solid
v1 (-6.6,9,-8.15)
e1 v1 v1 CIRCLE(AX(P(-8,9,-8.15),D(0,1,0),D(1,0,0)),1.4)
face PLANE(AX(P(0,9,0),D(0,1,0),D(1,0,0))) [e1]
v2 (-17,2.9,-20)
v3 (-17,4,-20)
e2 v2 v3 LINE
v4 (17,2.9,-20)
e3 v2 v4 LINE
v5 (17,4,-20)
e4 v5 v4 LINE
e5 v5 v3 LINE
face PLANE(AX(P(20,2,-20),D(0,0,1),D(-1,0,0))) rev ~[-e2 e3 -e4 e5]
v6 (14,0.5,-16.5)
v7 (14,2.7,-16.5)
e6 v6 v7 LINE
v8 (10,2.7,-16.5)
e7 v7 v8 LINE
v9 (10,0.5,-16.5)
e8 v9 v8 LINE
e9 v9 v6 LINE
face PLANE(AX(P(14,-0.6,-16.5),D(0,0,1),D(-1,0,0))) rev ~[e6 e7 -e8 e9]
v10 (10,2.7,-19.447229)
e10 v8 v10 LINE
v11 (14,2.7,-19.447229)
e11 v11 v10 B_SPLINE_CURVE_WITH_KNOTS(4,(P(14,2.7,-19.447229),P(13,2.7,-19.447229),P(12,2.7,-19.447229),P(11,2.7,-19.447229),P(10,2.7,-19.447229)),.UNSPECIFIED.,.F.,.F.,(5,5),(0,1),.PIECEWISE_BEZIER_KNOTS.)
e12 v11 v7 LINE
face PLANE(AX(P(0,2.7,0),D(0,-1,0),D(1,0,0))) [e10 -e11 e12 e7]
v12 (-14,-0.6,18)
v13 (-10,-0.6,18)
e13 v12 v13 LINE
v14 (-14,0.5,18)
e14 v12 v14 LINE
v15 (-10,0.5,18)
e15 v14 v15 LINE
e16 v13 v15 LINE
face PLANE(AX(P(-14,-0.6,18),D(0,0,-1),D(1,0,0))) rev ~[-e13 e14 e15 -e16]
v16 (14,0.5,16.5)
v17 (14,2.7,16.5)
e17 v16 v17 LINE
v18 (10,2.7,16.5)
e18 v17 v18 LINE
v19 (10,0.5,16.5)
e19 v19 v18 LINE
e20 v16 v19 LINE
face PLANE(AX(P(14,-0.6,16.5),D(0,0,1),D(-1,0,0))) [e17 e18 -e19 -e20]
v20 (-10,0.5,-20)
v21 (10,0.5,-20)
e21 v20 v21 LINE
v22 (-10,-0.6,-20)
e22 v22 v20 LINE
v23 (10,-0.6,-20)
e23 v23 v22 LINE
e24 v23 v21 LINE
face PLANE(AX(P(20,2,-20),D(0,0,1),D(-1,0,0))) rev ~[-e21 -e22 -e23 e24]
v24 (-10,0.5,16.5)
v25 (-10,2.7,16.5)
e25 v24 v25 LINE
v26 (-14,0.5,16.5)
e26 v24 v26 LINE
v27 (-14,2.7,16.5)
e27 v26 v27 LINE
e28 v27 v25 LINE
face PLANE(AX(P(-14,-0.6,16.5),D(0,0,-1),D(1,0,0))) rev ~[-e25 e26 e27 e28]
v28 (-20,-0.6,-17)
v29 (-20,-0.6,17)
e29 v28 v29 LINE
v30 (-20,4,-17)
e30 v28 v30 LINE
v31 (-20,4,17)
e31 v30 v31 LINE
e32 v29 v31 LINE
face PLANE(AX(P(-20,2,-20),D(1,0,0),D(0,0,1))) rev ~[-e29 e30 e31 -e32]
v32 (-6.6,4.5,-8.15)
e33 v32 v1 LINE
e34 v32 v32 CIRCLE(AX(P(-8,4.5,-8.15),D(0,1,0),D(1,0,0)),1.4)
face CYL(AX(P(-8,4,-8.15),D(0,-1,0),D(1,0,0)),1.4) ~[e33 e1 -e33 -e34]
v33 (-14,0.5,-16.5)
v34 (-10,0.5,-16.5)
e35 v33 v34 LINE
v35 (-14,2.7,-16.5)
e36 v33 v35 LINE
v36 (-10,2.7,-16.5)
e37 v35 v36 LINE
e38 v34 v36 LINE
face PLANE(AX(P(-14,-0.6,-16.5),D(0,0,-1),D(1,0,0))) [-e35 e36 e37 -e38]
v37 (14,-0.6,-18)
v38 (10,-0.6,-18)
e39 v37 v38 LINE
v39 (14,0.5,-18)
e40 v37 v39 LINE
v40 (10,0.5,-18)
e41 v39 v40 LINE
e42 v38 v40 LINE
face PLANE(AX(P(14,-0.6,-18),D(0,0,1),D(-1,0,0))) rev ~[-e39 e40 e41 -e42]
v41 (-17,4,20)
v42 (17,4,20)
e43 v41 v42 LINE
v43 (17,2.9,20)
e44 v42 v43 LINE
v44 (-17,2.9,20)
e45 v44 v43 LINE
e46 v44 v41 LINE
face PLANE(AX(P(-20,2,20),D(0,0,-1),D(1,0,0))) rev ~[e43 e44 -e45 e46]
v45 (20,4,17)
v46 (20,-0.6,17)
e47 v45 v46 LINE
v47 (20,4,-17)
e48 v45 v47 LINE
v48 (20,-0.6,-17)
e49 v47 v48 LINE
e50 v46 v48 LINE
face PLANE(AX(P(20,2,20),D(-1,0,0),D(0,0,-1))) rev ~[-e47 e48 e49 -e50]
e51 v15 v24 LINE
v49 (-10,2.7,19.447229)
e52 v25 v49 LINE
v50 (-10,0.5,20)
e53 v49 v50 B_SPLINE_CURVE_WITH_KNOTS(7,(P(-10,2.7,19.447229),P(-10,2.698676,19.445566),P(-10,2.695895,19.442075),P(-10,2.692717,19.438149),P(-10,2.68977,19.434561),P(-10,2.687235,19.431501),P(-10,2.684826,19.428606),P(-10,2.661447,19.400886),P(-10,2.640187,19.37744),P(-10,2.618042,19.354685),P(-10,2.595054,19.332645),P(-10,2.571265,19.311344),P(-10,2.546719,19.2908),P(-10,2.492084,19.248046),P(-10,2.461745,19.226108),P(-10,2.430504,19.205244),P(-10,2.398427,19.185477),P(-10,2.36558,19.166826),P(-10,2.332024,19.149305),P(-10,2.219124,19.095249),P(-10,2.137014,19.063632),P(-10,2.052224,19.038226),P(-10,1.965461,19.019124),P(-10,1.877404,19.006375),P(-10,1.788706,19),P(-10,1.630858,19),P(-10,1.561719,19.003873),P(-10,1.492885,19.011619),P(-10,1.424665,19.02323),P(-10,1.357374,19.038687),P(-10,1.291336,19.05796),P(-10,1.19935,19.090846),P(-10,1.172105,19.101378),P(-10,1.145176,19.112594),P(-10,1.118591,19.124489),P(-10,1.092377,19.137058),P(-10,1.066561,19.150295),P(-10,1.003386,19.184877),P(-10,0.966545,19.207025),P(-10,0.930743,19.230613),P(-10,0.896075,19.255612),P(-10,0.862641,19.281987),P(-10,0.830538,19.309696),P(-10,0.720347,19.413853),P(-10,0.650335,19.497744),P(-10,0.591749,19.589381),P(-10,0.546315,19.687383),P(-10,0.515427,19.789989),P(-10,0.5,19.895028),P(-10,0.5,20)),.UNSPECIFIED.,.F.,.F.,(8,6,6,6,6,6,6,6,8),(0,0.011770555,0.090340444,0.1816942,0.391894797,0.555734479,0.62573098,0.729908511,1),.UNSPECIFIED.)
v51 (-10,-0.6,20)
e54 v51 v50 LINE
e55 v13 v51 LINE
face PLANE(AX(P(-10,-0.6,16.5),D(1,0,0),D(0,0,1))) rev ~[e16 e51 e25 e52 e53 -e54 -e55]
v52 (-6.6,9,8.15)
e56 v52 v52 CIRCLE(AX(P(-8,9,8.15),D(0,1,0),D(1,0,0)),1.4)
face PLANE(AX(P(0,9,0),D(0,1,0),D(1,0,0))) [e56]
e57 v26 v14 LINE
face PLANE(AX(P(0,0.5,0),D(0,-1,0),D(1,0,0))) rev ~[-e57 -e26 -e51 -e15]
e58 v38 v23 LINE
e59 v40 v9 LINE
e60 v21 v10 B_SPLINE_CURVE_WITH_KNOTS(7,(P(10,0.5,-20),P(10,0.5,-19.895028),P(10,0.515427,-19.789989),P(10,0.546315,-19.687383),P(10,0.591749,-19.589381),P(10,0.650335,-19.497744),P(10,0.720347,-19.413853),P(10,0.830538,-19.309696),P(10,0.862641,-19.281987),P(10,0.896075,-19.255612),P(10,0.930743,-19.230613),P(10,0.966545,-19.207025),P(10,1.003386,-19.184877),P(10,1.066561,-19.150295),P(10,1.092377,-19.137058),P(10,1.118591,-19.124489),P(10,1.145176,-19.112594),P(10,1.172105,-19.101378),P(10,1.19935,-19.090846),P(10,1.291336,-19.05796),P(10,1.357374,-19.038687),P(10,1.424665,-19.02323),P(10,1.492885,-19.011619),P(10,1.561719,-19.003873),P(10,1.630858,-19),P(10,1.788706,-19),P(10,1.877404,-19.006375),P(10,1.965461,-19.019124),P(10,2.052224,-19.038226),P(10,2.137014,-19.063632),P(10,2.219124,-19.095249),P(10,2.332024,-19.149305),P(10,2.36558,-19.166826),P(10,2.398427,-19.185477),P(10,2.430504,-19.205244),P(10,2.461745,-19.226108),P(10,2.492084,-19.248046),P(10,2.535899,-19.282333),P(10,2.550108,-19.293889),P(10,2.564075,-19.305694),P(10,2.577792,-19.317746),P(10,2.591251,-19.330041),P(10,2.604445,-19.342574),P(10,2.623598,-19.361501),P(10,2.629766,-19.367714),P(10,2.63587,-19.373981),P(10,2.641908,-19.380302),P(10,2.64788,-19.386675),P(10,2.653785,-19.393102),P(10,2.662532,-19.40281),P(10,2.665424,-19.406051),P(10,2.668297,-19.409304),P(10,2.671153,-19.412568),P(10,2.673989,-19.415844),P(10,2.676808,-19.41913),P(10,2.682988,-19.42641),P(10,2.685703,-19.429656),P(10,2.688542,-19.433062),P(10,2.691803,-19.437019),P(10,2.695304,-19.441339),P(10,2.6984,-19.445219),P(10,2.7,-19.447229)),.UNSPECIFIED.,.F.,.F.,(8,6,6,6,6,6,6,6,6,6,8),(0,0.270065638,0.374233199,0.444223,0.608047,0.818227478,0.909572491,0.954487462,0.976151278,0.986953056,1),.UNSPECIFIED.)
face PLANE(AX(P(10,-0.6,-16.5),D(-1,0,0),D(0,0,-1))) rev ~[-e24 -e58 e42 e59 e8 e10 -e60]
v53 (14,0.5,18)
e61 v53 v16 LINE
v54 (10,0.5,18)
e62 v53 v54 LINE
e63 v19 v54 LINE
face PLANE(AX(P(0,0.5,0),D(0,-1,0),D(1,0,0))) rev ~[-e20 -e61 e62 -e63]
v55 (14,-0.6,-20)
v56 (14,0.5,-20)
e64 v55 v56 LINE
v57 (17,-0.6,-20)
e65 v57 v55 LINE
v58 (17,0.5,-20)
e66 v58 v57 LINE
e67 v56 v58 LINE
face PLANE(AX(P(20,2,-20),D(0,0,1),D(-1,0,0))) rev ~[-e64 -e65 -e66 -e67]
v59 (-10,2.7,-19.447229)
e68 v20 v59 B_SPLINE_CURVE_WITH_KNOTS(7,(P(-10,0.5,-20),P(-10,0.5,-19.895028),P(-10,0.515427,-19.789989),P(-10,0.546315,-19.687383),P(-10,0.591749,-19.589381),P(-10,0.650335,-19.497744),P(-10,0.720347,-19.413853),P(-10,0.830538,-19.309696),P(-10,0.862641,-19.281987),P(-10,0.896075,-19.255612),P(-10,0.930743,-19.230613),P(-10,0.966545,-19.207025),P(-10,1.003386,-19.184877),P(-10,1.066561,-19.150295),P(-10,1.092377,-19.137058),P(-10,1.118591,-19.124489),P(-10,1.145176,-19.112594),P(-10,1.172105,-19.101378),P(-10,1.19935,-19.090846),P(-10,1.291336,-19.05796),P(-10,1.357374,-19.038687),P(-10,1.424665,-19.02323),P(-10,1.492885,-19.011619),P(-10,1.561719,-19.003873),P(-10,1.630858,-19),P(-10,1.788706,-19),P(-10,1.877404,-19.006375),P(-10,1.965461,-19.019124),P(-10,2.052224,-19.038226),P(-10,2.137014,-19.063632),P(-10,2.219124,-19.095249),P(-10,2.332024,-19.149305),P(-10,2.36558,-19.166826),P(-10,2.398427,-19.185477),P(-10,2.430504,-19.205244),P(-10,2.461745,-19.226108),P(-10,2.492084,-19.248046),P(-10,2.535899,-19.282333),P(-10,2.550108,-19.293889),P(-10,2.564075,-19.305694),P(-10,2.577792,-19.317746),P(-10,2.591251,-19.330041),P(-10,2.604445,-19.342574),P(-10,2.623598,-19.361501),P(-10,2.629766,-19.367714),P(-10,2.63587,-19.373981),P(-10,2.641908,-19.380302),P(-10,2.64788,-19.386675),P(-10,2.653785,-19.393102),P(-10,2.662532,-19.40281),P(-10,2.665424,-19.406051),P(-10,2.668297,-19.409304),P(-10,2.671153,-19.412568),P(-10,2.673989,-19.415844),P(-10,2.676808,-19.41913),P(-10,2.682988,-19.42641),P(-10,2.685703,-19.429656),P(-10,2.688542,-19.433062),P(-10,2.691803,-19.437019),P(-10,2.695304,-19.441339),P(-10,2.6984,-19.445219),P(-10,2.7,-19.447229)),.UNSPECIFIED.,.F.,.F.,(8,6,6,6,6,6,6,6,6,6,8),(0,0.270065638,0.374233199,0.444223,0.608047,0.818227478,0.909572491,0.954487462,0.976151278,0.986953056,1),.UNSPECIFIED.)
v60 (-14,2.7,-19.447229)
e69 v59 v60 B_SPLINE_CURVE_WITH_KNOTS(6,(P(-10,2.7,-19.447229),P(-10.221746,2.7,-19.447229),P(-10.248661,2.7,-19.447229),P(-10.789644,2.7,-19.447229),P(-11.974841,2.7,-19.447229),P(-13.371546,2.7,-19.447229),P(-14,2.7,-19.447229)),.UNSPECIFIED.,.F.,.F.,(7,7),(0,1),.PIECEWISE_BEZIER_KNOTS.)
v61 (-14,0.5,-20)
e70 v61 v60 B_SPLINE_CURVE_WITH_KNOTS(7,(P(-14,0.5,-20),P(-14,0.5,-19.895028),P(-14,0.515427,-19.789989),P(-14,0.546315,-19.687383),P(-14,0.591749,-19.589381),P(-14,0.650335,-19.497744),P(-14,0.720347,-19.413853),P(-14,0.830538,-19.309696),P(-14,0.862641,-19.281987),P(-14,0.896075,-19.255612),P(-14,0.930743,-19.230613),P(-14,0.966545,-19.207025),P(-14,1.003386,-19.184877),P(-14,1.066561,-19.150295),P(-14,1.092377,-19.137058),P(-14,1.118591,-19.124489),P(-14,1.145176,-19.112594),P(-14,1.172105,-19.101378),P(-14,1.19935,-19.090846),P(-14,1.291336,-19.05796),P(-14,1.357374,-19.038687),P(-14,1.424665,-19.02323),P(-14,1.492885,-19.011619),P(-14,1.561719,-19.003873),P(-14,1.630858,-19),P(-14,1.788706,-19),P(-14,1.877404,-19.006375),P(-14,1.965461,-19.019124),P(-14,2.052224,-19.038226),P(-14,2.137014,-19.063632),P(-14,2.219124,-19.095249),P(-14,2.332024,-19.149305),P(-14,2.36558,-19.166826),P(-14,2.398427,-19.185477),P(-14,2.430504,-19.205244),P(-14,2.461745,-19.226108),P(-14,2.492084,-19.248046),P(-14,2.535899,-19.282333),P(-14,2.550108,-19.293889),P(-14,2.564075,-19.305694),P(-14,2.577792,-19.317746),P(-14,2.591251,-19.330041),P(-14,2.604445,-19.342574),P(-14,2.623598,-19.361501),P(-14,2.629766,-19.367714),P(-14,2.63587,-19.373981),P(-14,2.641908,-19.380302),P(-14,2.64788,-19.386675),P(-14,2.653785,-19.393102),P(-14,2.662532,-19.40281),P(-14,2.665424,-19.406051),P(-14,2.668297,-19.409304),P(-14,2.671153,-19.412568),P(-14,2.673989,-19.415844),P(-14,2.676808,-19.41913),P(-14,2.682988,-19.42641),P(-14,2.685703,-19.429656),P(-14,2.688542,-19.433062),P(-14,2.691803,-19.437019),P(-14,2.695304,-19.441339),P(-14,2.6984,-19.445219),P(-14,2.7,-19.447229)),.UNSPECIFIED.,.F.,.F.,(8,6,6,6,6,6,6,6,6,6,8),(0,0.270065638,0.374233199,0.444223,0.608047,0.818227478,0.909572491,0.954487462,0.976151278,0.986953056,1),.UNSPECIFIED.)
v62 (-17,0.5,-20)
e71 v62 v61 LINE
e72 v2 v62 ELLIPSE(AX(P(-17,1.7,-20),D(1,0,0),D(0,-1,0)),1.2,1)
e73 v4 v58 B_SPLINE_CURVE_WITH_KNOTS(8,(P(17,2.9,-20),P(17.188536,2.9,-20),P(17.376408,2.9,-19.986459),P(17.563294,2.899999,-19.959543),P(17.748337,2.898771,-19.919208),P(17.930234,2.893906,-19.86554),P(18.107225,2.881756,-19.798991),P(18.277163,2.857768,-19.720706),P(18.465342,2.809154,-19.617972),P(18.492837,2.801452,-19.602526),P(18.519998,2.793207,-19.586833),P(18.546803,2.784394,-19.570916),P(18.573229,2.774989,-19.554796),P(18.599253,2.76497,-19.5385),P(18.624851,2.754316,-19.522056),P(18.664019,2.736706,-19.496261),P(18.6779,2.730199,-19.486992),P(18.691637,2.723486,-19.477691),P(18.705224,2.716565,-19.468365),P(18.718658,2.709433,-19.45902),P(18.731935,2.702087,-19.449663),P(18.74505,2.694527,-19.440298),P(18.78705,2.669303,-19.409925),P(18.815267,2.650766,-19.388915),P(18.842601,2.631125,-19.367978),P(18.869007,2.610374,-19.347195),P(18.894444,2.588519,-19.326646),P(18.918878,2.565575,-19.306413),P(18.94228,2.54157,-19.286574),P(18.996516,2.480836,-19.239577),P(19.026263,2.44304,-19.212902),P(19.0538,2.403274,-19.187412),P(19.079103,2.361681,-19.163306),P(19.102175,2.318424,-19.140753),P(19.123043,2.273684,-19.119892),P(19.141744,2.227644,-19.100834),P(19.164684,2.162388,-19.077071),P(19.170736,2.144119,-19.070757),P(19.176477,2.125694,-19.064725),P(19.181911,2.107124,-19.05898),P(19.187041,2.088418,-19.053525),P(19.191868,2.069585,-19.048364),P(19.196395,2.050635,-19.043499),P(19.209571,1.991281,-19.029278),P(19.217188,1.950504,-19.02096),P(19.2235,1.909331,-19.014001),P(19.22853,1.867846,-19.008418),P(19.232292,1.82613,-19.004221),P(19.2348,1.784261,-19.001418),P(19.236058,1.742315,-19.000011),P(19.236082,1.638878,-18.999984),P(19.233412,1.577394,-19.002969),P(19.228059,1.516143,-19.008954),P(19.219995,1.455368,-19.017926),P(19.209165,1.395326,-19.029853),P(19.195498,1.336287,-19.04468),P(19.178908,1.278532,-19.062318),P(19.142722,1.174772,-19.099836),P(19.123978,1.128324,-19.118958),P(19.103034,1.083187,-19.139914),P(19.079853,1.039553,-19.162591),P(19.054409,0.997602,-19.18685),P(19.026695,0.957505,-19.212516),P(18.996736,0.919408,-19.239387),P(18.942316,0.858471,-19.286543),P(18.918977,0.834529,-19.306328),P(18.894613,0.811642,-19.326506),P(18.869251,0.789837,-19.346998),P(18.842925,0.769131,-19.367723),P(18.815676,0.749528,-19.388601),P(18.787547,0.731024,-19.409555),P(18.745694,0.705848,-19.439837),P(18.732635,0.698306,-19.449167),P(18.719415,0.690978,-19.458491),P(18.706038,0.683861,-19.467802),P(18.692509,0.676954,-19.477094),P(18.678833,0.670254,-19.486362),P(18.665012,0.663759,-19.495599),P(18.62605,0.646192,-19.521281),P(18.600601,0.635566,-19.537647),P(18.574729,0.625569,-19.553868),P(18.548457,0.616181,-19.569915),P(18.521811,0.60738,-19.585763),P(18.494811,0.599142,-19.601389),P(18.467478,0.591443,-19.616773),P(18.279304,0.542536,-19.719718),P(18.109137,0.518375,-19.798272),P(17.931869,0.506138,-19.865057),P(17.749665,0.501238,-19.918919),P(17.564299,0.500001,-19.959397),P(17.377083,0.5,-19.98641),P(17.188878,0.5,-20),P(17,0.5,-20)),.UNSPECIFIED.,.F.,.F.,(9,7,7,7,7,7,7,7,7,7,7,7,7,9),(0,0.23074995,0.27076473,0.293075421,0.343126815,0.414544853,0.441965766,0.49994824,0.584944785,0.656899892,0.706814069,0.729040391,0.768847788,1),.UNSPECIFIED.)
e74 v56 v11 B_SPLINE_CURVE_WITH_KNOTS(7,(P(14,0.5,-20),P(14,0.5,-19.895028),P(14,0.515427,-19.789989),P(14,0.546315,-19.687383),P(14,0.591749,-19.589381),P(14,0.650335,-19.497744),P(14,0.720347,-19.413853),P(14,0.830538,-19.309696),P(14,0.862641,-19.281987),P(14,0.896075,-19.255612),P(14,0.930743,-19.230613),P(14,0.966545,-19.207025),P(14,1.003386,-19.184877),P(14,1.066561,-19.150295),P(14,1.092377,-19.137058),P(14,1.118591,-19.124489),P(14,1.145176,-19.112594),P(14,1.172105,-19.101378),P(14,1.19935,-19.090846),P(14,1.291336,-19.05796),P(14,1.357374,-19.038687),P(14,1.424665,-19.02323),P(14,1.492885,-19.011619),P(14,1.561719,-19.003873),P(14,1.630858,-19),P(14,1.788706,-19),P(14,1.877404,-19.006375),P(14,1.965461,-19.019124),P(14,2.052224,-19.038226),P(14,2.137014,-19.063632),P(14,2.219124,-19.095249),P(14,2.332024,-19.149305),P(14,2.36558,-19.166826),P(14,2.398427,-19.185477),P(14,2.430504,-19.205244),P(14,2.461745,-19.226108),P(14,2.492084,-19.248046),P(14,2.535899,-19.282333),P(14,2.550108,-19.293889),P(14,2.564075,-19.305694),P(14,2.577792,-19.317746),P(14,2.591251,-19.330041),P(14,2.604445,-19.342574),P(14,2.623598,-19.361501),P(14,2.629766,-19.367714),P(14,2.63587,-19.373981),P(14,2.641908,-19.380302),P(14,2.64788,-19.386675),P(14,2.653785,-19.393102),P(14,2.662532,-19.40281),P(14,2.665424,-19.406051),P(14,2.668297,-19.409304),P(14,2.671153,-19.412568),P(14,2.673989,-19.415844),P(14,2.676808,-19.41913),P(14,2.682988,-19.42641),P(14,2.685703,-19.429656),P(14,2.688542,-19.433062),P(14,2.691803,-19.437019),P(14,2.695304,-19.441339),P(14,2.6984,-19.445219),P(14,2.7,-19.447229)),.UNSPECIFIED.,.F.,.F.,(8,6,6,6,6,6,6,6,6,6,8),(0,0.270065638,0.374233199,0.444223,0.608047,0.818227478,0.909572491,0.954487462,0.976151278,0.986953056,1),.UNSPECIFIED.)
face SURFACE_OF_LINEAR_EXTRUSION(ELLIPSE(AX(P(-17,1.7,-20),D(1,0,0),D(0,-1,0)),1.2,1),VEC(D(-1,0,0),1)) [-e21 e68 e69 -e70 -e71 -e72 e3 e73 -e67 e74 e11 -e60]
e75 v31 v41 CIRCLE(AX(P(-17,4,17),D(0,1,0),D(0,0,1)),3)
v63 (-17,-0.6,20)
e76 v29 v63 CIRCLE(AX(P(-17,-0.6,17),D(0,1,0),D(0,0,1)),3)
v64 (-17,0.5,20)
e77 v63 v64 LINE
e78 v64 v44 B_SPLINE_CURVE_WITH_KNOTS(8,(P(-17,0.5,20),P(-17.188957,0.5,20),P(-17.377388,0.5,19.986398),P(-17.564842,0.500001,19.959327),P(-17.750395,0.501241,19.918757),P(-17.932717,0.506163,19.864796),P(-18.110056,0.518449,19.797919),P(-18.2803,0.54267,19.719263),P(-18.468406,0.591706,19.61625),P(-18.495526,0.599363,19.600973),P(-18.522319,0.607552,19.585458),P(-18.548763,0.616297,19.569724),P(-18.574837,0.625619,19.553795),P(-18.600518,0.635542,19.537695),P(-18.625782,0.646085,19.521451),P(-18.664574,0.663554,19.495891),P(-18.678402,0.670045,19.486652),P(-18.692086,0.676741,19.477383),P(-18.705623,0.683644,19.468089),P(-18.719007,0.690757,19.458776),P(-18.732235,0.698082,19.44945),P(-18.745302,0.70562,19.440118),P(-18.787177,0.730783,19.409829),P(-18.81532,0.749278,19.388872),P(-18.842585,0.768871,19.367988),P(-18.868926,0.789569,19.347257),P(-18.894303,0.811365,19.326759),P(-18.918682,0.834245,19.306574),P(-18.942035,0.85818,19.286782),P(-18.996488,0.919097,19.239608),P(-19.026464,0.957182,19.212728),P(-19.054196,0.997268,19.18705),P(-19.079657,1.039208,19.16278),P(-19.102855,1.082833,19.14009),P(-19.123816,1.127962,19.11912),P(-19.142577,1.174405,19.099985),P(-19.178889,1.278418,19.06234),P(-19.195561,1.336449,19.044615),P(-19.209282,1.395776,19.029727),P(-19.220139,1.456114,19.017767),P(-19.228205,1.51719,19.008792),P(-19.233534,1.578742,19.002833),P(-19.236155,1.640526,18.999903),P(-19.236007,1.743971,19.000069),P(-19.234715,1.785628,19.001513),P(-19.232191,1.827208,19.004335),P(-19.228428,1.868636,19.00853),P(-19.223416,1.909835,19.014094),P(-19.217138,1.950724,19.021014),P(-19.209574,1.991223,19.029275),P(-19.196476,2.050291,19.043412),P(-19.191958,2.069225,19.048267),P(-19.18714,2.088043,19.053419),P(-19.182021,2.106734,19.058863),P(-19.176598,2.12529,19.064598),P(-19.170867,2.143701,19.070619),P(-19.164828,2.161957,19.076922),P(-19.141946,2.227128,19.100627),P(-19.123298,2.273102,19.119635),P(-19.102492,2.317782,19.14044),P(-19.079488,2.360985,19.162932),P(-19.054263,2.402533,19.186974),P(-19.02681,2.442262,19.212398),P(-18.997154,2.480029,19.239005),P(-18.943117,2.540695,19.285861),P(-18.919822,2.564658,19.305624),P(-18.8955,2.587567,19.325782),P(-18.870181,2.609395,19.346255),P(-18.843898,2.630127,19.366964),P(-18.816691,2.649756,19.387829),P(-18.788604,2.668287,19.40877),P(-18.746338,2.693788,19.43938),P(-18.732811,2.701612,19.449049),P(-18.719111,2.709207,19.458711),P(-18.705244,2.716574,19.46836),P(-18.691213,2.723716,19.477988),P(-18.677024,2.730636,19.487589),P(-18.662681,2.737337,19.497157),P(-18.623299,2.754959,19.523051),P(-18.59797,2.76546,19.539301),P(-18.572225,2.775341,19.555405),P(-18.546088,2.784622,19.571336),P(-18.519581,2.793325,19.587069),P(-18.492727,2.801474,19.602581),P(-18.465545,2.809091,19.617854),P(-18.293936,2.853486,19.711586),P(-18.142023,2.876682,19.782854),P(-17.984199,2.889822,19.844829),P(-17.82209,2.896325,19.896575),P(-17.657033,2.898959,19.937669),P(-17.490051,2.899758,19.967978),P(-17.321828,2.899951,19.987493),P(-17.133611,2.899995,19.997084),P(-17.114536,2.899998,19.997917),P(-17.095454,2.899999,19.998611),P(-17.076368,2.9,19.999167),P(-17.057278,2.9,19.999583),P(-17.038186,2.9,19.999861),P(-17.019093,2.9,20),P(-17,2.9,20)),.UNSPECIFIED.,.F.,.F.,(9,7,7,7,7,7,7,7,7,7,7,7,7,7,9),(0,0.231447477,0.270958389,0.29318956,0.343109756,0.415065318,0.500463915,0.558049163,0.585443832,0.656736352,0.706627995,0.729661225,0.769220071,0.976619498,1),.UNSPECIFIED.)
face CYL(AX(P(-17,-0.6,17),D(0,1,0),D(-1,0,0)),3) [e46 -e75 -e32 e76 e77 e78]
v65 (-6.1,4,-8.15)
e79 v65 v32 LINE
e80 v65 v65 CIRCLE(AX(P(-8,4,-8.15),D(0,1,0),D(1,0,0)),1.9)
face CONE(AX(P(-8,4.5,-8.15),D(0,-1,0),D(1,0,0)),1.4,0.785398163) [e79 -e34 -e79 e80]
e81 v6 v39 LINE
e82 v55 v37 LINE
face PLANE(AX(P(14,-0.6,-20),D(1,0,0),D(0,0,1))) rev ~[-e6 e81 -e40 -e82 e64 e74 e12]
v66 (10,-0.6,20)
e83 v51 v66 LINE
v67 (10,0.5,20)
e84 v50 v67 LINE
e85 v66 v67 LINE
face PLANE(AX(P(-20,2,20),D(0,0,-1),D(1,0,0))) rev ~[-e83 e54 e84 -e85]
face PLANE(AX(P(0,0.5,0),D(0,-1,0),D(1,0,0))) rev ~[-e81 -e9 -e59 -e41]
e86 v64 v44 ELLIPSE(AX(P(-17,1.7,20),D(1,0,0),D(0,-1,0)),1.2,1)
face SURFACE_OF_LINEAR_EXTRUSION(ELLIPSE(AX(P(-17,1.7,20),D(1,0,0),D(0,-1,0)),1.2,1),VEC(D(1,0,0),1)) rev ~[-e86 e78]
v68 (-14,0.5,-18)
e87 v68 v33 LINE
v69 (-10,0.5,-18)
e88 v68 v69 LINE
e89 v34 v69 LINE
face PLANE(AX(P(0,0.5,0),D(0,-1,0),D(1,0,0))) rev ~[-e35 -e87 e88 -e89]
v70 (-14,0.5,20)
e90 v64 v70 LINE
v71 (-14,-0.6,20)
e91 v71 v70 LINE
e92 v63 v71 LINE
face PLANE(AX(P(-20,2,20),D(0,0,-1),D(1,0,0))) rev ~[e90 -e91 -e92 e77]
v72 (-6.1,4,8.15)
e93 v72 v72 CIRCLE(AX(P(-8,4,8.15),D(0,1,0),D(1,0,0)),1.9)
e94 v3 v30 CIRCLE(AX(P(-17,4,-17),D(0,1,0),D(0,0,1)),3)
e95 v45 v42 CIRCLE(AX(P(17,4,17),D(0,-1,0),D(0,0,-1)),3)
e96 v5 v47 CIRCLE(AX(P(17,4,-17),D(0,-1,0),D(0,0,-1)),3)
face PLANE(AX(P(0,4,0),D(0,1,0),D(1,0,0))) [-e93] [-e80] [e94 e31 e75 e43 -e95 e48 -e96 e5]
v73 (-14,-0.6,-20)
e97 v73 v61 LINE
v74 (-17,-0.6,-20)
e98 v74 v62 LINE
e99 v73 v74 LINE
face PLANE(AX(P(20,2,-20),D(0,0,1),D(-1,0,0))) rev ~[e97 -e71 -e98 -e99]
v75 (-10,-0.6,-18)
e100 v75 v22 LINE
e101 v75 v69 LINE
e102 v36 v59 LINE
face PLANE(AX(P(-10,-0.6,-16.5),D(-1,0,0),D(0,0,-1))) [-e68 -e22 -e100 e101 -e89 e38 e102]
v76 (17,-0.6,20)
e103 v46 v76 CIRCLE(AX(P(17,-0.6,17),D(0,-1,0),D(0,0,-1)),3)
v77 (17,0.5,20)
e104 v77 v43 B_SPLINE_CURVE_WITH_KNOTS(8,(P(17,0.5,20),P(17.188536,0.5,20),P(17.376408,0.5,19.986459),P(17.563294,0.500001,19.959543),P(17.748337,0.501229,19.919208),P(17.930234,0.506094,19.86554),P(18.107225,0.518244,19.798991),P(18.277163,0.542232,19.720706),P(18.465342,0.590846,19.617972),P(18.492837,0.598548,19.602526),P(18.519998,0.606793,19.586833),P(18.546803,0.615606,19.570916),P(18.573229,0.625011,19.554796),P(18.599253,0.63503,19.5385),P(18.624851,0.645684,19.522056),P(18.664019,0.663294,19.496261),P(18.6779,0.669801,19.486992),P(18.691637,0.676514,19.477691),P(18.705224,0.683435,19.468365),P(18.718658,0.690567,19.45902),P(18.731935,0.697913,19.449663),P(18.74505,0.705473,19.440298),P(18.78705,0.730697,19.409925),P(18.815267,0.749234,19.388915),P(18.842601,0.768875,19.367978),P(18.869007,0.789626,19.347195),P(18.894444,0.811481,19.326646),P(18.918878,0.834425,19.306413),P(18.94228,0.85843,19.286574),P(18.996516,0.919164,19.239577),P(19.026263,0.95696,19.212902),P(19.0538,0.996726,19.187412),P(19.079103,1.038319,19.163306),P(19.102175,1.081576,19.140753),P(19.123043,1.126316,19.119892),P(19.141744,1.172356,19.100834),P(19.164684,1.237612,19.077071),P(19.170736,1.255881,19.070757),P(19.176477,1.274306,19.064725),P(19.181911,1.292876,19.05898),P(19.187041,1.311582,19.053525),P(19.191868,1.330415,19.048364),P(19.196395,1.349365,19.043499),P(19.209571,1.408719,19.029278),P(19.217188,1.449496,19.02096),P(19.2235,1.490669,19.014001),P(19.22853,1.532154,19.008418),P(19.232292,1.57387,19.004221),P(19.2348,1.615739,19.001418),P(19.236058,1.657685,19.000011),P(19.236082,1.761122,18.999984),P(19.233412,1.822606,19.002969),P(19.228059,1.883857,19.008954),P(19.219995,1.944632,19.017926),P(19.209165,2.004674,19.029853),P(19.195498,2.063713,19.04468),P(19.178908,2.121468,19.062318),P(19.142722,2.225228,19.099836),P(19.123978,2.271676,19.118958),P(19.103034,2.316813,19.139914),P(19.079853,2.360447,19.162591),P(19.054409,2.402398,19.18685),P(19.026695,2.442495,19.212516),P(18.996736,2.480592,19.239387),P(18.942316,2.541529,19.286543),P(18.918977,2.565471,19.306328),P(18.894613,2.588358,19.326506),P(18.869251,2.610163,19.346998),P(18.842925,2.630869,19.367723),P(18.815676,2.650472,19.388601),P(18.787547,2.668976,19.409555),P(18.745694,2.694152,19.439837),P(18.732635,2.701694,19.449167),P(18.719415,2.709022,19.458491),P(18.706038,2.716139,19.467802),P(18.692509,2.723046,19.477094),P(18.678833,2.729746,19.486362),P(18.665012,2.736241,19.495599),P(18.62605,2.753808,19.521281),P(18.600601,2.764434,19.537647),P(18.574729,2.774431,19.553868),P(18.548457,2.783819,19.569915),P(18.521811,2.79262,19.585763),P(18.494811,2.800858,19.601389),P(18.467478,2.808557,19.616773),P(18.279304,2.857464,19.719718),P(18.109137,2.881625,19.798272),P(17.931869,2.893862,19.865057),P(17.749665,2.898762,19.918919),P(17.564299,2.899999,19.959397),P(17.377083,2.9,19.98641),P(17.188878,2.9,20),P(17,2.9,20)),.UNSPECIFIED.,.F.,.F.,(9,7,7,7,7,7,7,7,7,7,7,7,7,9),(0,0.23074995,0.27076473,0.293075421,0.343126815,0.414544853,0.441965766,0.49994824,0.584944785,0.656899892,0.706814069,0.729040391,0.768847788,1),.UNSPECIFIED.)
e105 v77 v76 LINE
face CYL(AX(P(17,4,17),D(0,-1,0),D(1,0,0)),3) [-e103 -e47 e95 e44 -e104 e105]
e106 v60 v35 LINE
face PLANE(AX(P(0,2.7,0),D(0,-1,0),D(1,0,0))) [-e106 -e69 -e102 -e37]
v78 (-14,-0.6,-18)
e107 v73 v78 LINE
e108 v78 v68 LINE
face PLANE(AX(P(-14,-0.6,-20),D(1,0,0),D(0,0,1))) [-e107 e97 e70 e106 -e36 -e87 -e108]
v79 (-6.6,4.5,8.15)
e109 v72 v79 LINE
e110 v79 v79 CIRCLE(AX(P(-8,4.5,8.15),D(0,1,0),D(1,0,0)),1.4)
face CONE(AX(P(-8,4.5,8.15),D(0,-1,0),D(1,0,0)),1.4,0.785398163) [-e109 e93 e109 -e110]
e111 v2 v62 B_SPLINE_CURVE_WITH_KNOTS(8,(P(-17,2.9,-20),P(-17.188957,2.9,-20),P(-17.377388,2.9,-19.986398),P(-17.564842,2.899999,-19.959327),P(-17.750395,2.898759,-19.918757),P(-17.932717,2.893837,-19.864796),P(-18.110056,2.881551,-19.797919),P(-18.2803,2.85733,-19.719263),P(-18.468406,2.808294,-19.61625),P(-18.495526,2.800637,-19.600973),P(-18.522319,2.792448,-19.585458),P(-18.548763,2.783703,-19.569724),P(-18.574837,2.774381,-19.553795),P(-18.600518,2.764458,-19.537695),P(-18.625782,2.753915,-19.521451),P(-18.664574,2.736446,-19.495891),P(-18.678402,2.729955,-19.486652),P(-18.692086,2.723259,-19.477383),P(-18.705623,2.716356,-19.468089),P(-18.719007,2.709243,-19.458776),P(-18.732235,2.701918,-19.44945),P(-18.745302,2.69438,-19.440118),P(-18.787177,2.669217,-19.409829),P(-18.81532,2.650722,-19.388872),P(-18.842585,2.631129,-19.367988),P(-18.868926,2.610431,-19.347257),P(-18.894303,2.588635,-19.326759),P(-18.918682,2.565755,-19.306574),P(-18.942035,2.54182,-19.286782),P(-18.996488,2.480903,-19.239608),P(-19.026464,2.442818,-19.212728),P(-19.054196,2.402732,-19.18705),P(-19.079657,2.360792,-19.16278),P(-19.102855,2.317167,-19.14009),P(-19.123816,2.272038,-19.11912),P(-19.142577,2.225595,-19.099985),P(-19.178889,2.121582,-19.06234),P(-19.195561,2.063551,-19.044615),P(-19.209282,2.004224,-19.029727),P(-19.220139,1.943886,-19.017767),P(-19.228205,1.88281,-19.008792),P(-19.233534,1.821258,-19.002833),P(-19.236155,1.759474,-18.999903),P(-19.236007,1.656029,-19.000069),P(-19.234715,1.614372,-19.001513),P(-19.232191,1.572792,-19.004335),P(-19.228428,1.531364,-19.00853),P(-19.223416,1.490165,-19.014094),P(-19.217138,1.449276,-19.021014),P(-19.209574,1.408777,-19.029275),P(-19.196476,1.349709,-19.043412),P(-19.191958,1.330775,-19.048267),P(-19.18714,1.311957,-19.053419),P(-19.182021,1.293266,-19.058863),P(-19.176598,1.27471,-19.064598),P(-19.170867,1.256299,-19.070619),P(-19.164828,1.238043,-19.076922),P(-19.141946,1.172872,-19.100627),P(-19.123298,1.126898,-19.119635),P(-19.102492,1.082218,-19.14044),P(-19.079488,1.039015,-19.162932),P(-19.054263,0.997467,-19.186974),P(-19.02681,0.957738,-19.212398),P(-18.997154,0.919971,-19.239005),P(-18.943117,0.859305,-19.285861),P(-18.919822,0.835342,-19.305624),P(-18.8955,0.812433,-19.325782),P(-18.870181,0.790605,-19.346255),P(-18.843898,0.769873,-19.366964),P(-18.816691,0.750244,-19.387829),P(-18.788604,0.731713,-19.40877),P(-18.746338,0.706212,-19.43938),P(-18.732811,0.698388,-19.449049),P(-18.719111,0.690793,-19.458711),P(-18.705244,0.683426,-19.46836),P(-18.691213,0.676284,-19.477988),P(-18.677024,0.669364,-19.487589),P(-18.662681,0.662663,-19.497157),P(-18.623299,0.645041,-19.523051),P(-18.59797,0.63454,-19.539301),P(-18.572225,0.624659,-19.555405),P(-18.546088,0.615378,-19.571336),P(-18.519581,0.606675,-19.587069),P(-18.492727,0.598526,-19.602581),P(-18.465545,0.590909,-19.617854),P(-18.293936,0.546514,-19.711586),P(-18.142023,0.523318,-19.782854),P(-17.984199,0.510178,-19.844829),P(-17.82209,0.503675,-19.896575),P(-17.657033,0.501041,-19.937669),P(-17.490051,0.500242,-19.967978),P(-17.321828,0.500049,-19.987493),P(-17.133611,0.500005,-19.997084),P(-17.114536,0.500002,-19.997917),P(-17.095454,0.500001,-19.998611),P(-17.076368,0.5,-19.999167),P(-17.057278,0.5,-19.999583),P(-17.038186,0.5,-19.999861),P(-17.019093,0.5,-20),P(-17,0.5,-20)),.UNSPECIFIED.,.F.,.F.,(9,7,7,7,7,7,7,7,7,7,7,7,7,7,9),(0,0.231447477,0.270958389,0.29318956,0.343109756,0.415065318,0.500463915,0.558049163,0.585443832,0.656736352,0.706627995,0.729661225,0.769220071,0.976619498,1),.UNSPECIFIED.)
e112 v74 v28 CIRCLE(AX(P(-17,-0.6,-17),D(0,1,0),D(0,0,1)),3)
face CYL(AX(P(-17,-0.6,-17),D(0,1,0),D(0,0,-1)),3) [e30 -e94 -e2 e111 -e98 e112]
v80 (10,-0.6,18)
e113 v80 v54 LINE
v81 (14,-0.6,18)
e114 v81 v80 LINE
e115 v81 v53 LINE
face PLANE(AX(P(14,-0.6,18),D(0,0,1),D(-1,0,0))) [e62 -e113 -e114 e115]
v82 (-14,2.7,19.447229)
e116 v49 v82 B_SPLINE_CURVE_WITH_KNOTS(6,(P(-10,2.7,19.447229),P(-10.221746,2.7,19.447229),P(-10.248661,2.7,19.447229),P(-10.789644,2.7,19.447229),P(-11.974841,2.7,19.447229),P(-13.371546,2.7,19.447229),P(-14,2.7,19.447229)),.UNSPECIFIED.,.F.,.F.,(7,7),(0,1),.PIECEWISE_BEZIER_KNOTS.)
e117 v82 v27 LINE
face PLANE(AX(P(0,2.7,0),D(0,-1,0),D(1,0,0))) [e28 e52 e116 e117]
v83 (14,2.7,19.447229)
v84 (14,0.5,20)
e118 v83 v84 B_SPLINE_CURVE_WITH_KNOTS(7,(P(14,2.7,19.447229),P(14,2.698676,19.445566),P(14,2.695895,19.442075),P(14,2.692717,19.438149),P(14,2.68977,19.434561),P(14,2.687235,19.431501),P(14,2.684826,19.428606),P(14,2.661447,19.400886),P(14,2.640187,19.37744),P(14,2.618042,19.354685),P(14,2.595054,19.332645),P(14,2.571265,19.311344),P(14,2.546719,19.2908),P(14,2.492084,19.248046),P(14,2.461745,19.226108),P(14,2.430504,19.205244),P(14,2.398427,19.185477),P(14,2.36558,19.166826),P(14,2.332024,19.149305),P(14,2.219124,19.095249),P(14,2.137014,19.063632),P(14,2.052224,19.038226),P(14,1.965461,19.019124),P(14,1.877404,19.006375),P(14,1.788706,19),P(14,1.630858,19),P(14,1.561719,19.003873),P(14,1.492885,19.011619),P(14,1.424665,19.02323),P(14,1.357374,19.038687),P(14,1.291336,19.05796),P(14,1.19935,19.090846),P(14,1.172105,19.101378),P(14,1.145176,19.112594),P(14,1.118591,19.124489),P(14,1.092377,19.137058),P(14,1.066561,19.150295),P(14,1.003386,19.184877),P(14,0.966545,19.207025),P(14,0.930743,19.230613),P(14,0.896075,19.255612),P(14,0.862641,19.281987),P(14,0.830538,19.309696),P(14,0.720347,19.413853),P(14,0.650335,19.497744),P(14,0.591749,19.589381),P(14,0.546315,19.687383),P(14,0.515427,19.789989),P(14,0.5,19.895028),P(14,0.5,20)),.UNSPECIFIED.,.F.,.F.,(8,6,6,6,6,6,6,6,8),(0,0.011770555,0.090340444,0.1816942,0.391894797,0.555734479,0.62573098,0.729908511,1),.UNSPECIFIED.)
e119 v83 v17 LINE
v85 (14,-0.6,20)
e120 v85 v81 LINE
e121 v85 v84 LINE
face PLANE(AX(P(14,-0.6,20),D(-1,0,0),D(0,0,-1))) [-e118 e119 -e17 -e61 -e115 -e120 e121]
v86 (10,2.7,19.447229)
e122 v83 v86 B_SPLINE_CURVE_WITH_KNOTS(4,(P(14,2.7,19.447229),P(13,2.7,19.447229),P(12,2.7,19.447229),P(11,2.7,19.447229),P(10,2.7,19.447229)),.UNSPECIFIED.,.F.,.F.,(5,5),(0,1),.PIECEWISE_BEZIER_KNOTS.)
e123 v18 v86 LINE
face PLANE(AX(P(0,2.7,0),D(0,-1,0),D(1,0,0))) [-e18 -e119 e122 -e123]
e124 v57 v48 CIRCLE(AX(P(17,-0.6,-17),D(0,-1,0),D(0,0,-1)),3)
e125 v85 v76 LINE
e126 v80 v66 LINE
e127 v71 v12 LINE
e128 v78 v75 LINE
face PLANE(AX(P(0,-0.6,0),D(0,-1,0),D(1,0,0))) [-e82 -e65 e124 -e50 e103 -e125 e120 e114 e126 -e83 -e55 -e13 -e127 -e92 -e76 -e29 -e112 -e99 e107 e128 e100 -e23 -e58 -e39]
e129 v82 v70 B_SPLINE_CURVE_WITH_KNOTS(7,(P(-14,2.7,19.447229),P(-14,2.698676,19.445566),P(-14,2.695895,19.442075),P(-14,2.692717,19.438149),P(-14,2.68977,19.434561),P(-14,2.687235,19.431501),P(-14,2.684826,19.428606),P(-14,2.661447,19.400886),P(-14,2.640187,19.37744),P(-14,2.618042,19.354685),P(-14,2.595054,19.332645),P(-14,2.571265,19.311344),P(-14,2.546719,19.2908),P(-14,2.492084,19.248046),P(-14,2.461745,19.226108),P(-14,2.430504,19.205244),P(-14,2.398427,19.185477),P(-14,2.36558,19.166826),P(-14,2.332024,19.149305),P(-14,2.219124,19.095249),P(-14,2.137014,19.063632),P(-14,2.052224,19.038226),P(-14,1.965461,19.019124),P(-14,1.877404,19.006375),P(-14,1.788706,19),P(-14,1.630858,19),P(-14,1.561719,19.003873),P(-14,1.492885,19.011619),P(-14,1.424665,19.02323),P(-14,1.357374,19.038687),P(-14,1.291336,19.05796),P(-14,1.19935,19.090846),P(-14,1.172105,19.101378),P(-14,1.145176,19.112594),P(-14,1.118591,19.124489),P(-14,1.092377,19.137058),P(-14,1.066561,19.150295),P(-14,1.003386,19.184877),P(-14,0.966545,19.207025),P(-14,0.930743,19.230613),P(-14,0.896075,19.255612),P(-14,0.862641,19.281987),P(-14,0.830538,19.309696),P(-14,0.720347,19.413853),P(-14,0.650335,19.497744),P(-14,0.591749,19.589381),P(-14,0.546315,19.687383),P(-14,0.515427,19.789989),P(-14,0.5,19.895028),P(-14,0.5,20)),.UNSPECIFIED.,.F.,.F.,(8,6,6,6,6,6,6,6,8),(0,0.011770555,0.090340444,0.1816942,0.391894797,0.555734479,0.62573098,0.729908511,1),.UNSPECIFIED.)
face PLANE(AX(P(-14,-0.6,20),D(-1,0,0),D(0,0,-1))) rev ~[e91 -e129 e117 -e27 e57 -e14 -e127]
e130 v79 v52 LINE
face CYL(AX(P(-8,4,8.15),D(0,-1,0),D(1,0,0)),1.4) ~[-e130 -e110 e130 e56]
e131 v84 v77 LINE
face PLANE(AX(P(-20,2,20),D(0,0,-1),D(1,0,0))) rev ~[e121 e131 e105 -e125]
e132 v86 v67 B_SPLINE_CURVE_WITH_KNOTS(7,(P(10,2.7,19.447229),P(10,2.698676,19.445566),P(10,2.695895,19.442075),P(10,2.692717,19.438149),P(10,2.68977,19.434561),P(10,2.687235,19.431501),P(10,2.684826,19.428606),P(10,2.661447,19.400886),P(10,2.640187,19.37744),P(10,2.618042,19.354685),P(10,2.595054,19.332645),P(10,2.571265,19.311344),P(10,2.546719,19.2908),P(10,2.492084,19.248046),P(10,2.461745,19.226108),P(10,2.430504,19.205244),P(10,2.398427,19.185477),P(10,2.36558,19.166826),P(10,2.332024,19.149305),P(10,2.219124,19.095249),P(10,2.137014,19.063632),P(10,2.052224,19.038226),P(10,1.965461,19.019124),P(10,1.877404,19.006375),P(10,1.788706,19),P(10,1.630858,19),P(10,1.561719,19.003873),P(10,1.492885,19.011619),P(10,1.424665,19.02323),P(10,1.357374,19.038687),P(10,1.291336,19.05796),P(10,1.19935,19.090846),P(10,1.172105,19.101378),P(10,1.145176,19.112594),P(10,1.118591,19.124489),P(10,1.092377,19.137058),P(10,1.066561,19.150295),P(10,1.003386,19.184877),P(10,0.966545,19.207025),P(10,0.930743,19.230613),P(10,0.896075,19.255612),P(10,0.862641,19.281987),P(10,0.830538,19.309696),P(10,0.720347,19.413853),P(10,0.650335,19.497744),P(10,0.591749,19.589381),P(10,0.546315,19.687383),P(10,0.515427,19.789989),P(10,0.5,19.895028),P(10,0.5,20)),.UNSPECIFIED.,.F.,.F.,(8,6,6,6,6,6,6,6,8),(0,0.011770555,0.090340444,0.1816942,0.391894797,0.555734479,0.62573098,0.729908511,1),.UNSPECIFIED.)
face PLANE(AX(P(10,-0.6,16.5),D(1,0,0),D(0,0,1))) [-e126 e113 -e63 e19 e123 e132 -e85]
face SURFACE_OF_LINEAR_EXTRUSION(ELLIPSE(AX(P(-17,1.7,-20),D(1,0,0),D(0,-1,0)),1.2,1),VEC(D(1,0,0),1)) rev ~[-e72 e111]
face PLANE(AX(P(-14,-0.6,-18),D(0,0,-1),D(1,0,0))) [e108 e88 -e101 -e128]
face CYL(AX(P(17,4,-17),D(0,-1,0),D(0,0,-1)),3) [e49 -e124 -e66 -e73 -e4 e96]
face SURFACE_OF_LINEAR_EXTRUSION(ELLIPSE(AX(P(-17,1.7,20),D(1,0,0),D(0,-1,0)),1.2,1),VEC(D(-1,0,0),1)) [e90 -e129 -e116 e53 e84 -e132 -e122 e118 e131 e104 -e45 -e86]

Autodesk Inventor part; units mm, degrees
ref_plane "YZ Plane" through (0, 0, 0) normal (1, 0, 0) x (0, 1, 0)
ref_plane "XZ Plane" through (0, 0, 0) normal (0, 1, 0) x (-1, 0, 0)
sketch "Sketch1" plane through (0, 0, 0) normal (0, 1, 0) x (-1, 0, 0)
  line L0 (20, 20) -> (-20, 20)
  line L1 (-20, 20) -> (-20, -20)
  line L2 (-20, -20) -> (20, -20)
  line L3 (20, -20) -> (20, 20)
  circle A0 centre (10.5, 10.5) radius 4.25
  circle A1 centre (10.5, -10.5) radius 4.25
  circle A2 centre (-10.5, -10.5) radius 4.25
  circle A3 centre (-10.5, 10.5) radius 4.25
  line L4 (20, 0) -> (-20, 0) construction
  line L5 (0, 20) -> (0, -20) construction
  point P0 (0, 0)
  dimension "d0" = 40
  dimension "d1" = 40
  dimension "d2" = 8.5
  dimension "d3" = 21
  dimension "d4" = 21
extrude "Extrusion2" add sketch "Sketch1" along normal blind 2 contours L3 L2 L1 L0 | A0 | A1 | A2 | A3
sketch "Sketch2" plane through (0, 0, 0) normal (0, -1, 0) x (1, 0, 0)
  line L0 (20, 20) -> (20, -20) projected
  line L1 (-20, 20) -> (20, 20) projected
  line L2 (-20, -20) -> (-20, 20) projected
  line L3 (20, -20) -> (-20, -20) projected
  point P0 (0, 0)
extrude "Extrusion3" add sketch "Sketch2" along normal blind 0.6
sketch "Sketch3" plane through (0, 2, 0) normal (0, 1, 0) x (1, 0, 0)
  line L0 (-20, 20) -> (-20, -20) projected
  line L1 (-20, -20) -> (20, -20) projected
  line L2 (20, -20) -> (20, 20) projected
  line L3 (20, 20) -> (-20, 20) projected
  point P0 (0, 0)
extrude "Extrusion4" add sketch "Sketch3" along normal blind 2
fillet "Fillet1" radius 3 4 edges at (-20, 1.7, 20) (-20, 1.7, -20) (20, 1.7, 20) (20, 1.7, -20)
ref_plane "Arbeitsebene1" through (-17, 4, 20) normal (1, 0, 0) x (0, -1, 0)
sketch "Skizze5" plane through (-17, 4, 20) normal (1, 0, 0) x (0, -1, 0)
  line L0 (0, 0) -> (4.6, 0) construction
  line L1 (0, 0) -> (0, 3) construction
  line L2 (0.7, 0) -> (3.5, 0) construction
  line L3 (6.1491, 20) -> (-1.642, 20) construction
  line L4 (0, 40) -> (4.6, 40) construction
  line L5 (0.7, 40) -> (3.5, 40) construction
  line L6 (2.3, 0) -> (2.3, 4.6722) construction
  ellipse E0 centre (2.3, 0) end of major axis (3.5, 0) minor radius 1
  line L7 (1.1, 0) -> (3.5, 0)
  line L8 (0, 40) -> (4.6, 40) construction
  line L9 (0.7, 40) -> (3.5, 40) construction
  ellipse E1 centre (2.3, 40) end of major axis (3.5, 40) minor radius 1
  line L10 (1.1, 40) -> (3.5, 40)
  point P0 (4, 20)
  point P1 (2.3, 1)
  dimension "d22" = 2.3
  dimension "d23" = 1.2
  dimension "d28" = 1
extrude "Extrusion7" cut sketch "Skizze5" along normal blind 37 and the other way blind 5 contours L7 E0 | E1 L10 picked at (2.3176, 0.333) picked at (2.2824, 39.667)
sketch "Skizze6" plane through (0, -0.6, 0) normal (0, -1, 0) x (1, 0, 0)
  line L0 (17, 20) -> (-17, 20) projected
  line L1 (-20, 17) -> (-20, -17) construction
  line L2 (-14, 20) -> (-14, 16.5)
  line L3 (-14, 20) -> (-10, 20)
  line L4 (0, 16.6905) -> (0, 25.5183)
  line L5 (7.2129, 0) -> (-7.9382, 0)
  line L6 (-17, 20) -> (17, 20)
  line L7 (14, 20) -> (10, 20)
  line L8 (17, -20) -> (-17, -20)
  line L9 (-14, 16.5) -> (-10, 16.5)
  line L10 (-10, 16.5) -> (-10, 20)
  line L11 (-17, -20) -> (17, -20) projected
  line L12 (14, 20) -> (14, 16.5)
  line L13 (14, 16.5) -> (10, 16.5)
  line L14 (10, 16.5) -> (10, 20)
  line L15 (-14, -20) -> (-14, -16.5)
  line L16 (-14, -16.5) -> (-10, -16.5)
  line L17 (-10, -16.5) -> (-10, -20)
  line L18 (10, -16.5) -> (10, -20)
  line L19 (14, -16.5) -> (10, -16.5)
  line L20 (14, -20) -> (14, -16.5)
  point P0 (0, 0)
  point P1 (-12, 20)
  dimension "d34" = 8
  dimension "d35" = 2
  dimension "d41" = 3.5
  dimension "d42" = 4
extrude "Extrusion8" cut sketch "Skizze6" against normal blind 3.3
sketch "Skizze8" plane through (0, -0.6, 0) normal (0, -1, 0) x (1, 0, 0)
  line L0 (-10, 20) -> (-10, 16.5) projected
  line L1 (-10, 16.5) -> (-14, 16.5) projected
  line L2 (-14, -20) -> (-14, -16.5) projected
  line L3 (-14, -16.5) -> (-10, -16.5) projected
  line L4 (-10, -16.5) -> (-10, -20) projected
  line L5 (-10, -20) -> (10, -20) projected
  line L6 (10, -20) -> (10, -16.5) projected
  line L7 (10, -16.5) -> (14, -16.5) projected
  line L8 (14, -16.5) -> (14, -20) projected
  line L9 (14, -20) -> (17, -20) projected
  arc A0 (17, -20) -> (20, -17) centre (17, -17) ccw projected
  line L10 (20, -17) -> (20, 17) projected
  arc A1 (20, 17) -> (17, 20) centre (17, 17) ccw projected
  line L11 (17, 20) -> (14, 20) projected
  line L12 (14, 20) -> (14, 16.5) projected
  line L13 (14, 16.5) -> (10, 16.5) projected
  line L14 (10, 16.5) -> (10, 20) projected
  line L15 (10, 20) -> (-10, 20) projected
  line L16 (-10, 20) -> (-10, 16.5) projected
  line L17 (-10, 16.5) -> (-14, 16.5) projected
  line L18 (-14, 16.5) -> (-14, 20) projected
  line L19 (-14, 20) -> (-17, 20) projected
  arc A2 (-17, 20) -> (-20, 17) centre (-17, 17) ccw projected
  line L20 (-20, 17) -> (-20, -17) projected
  arc A3 (-20, -17) -> (-17, -20) centre (-17, -17) ccw projected
  line L21 (-17, -20) -> (-14, -20) projected
  line L22 (0, 16.7549) -> (0, 9.0333)
  line L23 (12, 0) -> (-14, 0)
  line L24 (-10, 16.5) -> (-14, 16.5)
  line L25 (-14, 16.5) -> (-14, 18)
  line L26 (-14, 18) -> (-10, 18)
  line L27 (-10, 18) -> (-10, 16.5)
  line L28 (10, 20) -> (10, 16.5)
  line L29 (10, 16.5) -> (14, 16.5)
  line L30 (14, 16.5) -> (14, 18)
  line L31 (14, 18) -> (10, 18)
  line L32 (10, 18) -> (10, 16.5)
  line L33 (-14, -18) -> (-10, -18)
  line L34 (14, -18) -> (10, -18)
  point P0 (0, 0)
  dimension "d47" = 1.5
extrude "Extrusion10" add sketch "Skizze8" against normal blind 1.1 contours L0 L1 L18 L26 | L31 L12 L13 L14 | L2 L3 L4 L33 | L34 L6 L7 L8
sketch "Skizze9" plane through (0, 4, 0) normal (0, 1, 0) x (1, 0, 0)
  line L0 (-20, 17) -> (-20, -17) projected
  circle A0 centre (-8, -8.15) radius 1.4
  line L1 (-2.4635, 0) -> (-12.5282, 0) construction
  circle A1 centre (-8, 8.15) radius 1.4
  point P0 (0, 0)
  dimension "d55" = 8.15
  dimension "d56" = 12
  dimension "d57" = 2.8
extrude "Extrusion11" add sketch "Skizze9" along normal blind 5
chamfer "Fasen2" distance 0.5 angle 45 2 edges at (-9.4, 4, -8.15) (-9.4, 4, 8.15)
properties part number "IMU_mount_baseplate"
